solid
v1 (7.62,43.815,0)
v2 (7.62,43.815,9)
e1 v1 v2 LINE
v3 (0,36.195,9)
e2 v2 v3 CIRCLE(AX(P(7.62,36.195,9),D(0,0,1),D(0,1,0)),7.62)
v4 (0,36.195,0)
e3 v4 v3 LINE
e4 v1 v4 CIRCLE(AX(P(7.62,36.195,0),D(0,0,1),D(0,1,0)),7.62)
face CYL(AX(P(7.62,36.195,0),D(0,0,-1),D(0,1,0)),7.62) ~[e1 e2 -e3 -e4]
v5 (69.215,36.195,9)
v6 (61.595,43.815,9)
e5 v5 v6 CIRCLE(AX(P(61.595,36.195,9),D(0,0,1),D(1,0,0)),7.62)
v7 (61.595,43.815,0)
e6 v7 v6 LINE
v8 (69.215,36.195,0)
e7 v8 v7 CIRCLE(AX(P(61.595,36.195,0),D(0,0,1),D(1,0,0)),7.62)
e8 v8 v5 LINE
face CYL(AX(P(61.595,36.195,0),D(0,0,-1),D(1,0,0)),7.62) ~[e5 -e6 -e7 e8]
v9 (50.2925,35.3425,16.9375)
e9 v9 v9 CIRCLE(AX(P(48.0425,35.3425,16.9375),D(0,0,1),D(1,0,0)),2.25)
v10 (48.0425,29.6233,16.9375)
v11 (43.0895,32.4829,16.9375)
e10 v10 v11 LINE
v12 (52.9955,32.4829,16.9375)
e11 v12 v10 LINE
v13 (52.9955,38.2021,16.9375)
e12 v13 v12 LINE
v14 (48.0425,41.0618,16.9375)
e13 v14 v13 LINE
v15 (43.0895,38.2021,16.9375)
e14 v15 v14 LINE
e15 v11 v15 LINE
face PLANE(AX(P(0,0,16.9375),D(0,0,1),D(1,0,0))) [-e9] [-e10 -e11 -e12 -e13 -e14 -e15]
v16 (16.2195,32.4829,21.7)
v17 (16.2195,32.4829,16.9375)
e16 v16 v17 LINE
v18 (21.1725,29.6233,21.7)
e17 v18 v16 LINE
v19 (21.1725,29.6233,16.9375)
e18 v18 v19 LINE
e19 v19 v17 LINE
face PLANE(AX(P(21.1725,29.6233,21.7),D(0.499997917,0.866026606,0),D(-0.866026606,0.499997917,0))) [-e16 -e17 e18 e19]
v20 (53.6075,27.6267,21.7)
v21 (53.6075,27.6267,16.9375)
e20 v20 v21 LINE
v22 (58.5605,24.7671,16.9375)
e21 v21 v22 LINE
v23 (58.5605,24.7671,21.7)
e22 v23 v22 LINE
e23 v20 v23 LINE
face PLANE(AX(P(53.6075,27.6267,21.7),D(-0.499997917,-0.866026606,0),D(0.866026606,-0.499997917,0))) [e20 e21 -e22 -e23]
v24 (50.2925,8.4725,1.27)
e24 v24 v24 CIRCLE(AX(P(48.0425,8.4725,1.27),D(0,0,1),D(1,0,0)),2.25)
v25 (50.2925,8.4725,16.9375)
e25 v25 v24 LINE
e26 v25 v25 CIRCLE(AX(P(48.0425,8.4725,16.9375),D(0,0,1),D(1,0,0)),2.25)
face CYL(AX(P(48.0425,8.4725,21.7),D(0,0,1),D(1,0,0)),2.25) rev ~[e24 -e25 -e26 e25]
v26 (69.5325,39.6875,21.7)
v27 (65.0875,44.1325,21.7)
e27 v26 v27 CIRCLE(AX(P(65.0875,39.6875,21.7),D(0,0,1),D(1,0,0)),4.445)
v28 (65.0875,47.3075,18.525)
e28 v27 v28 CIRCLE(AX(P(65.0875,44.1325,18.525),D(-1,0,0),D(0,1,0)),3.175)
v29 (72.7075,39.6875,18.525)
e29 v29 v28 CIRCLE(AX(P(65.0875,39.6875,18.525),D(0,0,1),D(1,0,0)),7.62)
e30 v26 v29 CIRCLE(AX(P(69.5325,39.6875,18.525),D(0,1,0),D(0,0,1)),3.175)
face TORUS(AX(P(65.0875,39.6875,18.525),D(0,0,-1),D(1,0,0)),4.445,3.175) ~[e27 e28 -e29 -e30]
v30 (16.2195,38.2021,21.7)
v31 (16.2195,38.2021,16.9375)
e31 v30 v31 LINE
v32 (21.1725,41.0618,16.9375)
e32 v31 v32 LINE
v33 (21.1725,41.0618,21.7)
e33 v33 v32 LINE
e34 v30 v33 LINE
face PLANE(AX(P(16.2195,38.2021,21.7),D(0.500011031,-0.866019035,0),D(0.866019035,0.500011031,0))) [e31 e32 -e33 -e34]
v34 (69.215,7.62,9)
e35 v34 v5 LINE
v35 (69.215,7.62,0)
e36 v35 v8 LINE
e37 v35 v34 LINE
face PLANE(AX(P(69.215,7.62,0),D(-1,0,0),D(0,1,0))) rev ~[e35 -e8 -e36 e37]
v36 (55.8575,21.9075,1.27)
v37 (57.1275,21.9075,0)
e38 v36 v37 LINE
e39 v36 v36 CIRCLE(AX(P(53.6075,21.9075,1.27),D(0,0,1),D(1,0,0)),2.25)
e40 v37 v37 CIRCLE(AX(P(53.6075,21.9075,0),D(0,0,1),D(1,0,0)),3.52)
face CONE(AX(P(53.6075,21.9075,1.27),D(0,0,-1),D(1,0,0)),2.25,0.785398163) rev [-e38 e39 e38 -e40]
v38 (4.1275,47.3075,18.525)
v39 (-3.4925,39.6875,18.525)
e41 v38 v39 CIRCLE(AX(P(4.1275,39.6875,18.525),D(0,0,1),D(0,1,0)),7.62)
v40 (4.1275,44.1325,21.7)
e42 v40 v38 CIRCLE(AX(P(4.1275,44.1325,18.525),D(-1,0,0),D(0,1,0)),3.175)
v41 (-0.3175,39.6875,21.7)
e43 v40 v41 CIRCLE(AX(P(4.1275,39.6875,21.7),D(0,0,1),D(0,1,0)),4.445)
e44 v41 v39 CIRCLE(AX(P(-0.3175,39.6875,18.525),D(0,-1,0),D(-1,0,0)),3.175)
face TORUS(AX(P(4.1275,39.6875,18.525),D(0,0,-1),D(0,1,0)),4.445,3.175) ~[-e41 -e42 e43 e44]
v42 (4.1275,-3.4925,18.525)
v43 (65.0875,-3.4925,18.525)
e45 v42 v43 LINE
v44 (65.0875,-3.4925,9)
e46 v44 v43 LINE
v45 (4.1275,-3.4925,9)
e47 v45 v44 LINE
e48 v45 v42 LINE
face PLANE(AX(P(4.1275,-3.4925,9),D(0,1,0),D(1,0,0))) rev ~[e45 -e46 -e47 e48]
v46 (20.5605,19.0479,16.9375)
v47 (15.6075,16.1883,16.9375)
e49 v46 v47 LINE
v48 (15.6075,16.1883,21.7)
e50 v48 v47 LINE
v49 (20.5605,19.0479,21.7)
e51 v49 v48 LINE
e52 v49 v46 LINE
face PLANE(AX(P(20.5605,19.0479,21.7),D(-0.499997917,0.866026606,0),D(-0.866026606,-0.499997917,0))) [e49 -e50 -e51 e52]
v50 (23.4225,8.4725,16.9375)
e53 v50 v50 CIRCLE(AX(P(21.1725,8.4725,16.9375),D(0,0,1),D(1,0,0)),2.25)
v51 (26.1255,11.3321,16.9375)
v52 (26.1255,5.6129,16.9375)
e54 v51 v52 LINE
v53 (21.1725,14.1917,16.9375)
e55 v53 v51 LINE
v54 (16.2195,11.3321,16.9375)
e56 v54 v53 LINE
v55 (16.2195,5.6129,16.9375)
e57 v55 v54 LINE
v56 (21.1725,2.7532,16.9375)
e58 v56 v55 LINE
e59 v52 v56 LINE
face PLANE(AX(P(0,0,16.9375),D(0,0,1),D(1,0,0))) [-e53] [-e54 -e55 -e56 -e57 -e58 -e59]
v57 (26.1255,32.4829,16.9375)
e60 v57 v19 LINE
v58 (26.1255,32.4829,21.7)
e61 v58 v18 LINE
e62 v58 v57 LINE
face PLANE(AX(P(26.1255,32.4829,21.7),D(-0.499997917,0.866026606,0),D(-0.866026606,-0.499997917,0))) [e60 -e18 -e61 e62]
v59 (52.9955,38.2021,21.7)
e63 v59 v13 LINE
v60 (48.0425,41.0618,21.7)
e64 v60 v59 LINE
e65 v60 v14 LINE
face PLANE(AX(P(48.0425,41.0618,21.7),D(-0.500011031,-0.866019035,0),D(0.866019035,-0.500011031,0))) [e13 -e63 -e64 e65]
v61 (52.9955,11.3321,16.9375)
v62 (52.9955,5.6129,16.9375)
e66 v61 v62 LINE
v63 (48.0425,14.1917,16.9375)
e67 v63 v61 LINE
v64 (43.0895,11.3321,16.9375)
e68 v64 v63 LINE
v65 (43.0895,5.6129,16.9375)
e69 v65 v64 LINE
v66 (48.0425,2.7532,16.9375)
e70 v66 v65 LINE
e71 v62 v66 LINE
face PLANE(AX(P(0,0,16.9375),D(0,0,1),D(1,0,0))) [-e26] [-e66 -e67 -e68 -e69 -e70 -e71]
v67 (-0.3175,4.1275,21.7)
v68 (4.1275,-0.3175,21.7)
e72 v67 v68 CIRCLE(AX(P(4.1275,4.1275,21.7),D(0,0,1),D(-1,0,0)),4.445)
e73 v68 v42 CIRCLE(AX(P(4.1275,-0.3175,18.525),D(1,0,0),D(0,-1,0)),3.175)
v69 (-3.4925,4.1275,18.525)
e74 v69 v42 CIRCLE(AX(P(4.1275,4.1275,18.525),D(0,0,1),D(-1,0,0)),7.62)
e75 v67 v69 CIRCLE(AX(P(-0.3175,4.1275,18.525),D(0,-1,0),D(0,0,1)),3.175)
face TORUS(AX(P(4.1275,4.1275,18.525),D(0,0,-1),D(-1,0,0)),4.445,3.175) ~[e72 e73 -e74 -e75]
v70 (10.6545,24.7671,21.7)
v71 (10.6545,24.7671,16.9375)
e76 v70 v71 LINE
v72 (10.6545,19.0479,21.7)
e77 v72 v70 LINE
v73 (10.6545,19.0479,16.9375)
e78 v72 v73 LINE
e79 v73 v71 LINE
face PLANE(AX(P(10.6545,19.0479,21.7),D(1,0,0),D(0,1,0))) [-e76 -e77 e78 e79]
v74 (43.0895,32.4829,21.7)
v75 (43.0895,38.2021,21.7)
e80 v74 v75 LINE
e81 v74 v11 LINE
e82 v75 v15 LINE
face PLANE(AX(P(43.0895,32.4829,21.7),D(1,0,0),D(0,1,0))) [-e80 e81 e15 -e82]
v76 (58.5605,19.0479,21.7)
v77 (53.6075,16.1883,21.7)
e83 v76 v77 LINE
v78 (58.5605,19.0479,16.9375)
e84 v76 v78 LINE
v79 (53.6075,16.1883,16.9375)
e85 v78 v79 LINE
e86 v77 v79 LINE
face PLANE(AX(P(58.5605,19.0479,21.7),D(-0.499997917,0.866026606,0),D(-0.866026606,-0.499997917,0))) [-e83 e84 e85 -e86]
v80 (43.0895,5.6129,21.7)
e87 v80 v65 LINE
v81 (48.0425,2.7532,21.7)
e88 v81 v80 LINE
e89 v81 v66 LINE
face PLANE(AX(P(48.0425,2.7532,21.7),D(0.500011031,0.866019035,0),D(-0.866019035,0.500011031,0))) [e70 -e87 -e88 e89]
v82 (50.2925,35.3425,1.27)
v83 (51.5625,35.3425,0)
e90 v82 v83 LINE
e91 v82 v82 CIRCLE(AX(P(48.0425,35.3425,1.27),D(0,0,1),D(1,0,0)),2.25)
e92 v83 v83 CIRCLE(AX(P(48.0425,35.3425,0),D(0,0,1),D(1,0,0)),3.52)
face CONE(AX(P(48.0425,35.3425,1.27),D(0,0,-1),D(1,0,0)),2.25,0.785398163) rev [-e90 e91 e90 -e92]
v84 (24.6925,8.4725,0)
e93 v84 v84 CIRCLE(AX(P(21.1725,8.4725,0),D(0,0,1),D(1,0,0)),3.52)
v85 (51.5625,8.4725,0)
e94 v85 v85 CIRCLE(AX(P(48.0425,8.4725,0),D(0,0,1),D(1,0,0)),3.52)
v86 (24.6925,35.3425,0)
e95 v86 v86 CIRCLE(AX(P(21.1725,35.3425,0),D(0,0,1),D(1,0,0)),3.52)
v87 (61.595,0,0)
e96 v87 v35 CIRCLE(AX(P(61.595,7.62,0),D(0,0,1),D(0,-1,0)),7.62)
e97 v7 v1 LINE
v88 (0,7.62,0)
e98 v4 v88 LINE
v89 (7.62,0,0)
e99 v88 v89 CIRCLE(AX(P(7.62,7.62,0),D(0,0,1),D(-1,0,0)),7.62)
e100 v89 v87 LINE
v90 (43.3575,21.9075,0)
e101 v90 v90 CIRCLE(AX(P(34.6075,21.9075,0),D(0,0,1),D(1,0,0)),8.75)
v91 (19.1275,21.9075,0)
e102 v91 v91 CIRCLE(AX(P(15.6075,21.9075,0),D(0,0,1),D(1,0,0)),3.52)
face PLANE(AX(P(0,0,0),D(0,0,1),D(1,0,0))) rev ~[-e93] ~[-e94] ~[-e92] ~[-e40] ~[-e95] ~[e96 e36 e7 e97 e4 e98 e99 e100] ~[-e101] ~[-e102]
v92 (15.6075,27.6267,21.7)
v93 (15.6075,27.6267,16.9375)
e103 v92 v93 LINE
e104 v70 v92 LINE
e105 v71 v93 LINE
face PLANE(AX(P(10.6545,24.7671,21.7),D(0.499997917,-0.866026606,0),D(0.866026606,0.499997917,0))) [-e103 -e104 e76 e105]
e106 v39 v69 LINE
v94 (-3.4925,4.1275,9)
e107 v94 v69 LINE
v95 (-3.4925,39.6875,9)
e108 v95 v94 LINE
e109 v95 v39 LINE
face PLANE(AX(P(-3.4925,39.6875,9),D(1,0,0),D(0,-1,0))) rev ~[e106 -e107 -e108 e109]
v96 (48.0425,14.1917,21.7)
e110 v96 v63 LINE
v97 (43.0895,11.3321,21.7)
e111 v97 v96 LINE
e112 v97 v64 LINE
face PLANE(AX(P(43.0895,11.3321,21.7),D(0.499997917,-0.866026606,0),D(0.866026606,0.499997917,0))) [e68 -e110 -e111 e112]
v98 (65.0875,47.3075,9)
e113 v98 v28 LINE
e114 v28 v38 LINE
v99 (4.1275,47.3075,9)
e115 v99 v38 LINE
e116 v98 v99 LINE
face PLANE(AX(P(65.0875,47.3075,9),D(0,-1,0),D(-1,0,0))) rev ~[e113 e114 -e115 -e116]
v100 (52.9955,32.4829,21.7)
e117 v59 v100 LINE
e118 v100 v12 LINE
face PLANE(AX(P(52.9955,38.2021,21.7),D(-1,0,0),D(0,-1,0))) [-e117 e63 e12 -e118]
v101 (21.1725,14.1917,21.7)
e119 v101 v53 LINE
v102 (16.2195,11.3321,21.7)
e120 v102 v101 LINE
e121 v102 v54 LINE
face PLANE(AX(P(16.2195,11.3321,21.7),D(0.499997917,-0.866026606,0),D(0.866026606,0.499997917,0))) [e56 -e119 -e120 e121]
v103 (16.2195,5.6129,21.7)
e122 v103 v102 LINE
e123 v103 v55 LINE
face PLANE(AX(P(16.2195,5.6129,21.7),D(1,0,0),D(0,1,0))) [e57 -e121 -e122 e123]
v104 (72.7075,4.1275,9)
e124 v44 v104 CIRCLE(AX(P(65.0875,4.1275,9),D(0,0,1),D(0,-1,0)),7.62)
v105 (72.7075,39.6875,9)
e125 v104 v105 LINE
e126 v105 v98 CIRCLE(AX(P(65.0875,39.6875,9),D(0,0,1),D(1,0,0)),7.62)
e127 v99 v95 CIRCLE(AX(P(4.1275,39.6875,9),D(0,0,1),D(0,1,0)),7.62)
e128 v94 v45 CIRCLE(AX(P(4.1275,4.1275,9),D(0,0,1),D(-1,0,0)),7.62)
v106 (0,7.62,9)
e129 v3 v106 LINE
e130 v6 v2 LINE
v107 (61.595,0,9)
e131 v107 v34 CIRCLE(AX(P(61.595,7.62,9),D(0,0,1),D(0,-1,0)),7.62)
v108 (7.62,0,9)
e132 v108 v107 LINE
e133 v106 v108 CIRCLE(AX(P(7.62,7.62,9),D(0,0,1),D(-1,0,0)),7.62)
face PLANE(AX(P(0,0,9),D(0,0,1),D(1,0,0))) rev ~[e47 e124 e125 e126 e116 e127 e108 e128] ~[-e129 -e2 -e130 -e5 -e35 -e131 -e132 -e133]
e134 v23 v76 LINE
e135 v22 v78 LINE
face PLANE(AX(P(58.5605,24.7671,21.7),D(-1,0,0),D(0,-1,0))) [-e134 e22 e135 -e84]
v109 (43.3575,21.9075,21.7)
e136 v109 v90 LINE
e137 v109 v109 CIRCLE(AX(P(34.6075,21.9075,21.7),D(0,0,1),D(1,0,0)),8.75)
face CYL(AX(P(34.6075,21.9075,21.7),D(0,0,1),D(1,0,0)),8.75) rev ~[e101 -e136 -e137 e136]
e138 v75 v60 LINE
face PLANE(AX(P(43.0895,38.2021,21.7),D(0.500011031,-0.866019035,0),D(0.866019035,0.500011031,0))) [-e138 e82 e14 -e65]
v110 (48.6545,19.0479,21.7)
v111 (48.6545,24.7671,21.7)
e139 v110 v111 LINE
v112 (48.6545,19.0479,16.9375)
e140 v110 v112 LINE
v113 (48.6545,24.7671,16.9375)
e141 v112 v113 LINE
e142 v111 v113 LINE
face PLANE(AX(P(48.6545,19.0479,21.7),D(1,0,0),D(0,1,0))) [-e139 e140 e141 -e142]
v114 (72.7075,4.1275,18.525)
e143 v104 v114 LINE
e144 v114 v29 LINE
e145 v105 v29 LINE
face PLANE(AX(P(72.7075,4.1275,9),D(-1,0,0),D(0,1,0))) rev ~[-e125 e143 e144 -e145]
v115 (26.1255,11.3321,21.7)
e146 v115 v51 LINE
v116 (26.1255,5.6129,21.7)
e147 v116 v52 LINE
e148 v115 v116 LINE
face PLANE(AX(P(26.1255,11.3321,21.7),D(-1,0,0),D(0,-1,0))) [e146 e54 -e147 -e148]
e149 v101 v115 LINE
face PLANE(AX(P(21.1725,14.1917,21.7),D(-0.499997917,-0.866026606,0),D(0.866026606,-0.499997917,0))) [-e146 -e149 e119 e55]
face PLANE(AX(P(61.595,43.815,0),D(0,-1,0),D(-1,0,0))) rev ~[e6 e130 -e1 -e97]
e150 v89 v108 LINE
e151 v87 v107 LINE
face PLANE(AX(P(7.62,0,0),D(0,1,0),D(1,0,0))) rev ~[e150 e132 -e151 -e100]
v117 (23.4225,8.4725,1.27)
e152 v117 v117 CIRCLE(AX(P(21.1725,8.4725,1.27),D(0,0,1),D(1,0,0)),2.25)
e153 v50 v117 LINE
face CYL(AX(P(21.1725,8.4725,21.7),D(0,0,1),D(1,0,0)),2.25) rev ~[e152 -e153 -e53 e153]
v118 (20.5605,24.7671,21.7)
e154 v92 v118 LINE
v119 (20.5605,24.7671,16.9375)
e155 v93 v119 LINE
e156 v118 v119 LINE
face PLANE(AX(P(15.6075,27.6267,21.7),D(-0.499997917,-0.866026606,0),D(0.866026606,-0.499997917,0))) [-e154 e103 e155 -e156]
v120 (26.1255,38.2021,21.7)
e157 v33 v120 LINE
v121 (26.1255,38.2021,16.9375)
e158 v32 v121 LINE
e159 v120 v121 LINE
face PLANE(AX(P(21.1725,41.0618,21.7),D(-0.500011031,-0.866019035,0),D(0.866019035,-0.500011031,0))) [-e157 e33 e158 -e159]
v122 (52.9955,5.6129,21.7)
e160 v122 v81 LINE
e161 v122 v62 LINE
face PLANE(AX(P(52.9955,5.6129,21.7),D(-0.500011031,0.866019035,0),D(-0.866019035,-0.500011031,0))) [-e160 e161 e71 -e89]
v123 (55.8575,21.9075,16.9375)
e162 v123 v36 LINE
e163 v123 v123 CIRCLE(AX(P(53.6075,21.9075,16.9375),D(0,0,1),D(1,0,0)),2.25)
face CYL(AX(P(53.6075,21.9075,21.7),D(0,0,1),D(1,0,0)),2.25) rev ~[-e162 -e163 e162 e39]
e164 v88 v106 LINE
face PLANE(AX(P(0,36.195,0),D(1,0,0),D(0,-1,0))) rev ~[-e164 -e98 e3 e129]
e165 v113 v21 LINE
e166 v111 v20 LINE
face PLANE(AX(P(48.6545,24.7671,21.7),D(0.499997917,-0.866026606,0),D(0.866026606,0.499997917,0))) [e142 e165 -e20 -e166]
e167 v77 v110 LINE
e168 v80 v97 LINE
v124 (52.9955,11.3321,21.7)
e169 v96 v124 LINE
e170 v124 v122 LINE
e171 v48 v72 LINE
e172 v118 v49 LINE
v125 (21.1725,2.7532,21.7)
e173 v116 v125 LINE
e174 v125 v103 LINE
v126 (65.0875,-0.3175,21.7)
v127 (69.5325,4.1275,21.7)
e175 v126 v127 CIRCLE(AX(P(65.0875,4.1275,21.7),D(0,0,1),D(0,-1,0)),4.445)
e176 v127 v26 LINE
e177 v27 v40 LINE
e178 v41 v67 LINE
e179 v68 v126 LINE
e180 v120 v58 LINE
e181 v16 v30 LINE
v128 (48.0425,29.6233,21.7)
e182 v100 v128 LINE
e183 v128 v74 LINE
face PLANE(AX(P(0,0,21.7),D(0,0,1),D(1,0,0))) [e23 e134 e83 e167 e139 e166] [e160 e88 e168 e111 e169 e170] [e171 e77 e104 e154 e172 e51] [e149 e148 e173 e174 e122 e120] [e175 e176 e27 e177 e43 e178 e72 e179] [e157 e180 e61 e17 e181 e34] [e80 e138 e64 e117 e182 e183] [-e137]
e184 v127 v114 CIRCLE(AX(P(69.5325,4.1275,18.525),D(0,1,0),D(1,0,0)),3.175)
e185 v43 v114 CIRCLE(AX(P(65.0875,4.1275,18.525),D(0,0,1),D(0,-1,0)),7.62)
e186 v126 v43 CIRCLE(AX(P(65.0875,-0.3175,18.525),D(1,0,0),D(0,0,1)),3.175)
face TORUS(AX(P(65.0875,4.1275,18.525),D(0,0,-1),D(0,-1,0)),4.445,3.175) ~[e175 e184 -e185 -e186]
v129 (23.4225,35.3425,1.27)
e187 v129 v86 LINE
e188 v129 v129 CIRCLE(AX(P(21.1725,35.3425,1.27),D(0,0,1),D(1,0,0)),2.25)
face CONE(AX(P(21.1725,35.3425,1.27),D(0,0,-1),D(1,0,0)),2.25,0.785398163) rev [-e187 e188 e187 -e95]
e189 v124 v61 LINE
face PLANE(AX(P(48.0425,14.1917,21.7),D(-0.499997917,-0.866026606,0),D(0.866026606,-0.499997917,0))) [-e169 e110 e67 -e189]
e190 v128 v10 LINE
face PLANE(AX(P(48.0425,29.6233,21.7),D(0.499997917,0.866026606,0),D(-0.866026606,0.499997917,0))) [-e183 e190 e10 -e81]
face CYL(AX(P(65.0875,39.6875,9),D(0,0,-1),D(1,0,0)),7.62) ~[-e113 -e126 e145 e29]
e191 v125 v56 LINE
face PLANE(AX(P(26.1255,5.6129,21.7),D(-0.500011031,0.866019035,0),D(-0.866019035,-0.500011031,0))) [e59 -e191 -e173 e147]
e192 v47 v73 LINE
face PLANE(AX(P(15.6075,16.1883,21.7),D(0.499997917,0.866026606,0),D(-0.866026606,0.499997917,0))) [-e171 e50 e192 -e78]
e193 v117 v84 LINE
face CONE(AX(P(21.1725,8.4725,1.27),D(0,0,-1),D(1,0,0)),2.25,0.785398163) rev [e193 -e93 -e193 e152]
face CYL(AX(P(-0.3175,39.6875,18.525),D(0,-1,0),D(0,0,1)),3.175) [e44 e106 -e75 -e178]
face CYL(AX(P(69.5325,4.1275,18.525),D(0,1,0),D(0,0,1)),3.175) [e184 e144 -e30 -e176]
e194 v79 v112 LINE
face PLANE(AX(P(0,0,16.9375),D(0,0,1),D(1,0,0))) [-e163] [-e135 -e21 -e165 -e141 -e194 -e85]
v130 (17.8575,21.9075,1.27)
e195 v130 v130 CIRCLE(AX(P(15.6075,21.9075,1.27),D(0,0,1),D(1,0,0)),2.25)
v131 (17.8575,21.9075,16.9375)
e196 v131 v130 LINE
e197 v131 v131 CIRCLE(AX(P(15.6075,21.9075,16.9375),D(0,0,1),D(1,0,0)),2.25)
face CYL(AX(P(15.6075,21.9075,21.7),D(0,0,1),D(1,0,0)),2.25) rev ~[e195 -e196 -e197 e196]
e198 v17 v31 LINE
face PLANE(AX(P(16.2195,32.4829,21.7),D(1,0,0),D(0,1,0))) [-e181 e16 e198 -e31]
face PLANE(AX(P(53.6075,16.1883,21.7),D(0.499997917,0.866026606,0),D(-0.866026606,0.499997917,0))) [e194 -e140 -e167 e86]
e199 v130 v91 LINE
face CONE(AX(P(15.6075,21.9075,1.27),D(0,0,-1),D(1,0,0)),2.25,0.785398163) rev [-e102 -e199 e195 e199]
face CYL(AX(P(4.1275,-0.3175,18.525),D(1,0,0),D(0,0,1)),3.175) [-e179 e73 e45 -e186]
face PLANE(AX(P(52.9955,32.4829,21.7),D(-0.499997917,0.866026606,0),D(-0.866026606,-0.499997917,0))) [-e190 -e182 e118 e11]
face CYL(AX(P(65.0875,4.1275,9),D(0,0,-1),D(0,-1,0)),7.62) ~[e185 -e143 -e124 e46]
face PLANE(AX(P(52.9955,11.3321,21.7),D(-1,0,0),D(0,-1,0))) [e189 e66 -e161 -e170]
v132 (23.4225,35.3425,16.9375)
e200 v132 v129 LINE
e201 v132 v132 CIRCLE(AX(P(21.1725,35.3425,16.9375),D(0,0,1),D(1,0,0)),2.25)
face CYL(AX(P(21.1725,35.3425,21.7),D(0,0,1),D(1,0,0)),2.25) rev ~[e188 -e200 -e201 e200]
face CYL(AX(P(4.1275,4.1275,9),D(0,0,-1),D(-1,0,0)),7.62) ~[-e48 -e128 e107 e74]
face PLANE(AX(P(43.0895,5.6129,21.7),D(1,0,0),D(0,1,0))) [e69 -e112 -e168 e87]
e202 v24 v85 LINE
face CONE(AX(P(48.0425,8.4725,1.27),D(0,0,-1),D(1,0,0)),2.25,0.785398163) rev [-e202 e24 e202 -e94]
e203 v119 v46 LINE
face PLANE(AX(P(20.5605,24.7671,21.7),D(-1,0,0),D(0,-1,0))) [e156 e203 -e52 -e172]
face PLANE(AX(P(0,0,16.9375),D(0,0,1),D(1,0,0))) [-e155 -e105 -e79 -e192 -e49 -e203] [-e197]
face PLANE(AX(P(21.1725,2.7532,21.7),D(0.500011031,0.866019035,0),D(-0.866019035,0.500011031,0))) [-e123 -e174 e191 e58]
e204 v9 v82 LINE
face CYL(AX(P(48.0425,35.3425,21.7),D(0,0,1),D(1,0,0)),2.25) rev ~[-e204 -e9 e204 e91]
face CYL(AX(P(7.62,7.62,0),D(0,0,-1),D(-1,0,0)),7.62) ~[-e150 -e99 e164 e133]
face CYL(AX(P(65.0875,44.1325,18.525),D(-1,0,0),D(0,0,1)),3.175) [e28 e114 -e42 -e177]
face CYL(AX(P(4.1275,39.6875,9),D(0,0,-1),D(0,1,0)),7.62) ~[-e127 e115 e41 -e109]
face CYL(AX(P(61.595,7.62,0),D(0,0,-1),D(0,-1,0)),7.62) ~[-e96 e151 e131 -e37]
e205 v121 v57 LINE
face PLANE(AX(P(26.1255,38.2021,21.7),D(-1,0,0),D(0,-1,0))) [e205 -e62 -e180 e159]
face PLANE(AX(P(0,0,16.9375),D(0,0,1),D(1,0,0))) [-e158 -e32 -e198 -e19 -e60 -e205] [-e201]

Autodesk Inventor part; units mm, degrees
ref_plane "YZ Plane" through (0, 0, 0) normal (1, 0, 0) x (0, 1, 0)
ref_plane "XZ Plane" through (0, 0, 0) normal (0, 1, 0) x (-1, 0, 0)
sketch "Sketch1" plane through (0, 0, 0) normal (0, 0, 1) x (1, 0, 0)
  line L0 (7.62, 0) -> (61.595, 0)
  line L1 (69.215, 7.62) -> (69.215, 36.195)
  line L2 (61.595, 43.815) -> (7.62, 43.815)
  line L3 (0, 36.195) -> (0, 7.62)
  arc A0 (7.62, 43.815) -> (0, 36.195) centre (7.62, 36.195) ccw
  arc A1 (0, 7.62) -> (7.62, 0) centre (7.62, 7.62) ccw
  arc A2 (61.595, 0) -> (69.215, 7.62) centre (61.595, 7.62) ccw
  arc A3 (69.215, 36.195) -> (61.595, 43.815) centre (61.595, 36.195) ccw
  point P0 (0, 0)
  point P1 (69.215, 43.815)
  point P2 (69.215, 0)
  point P3 (0, 43.815)
  dimension "d0" = 69.215
  dimension "d1" = 43.815
  dimension "d2" = 7.62
extrude "Extrusion1" add sketch "Sketch1" along normal blind 9
sketch "Sketch2" plane through (0, 0, 9) normal (0, 0, 1) x (1, 0, 0)
  line L0 (4.1275, -3.4925) -> (65.0875, -3.4925)
  line L1 (72.7075, 4.1275) -> (72.7075, 39.6875)
  line L2 (65.0875, 47.3075) -> (4.1275, 47.3075)
  line L3 (-3.4925, 39.6875) -> (-3.4925, 4.1275)
  arc A0 (4.1275, 47.3075) -> (-3.4925, 39.6875) centre (4.1275, 39.6875) ccw
  arc A1 (-3.4925, 4.1275) -> (4.1275, -3.4925) centre (4.1275, 4.1275) ccw
  arc A2 (65.0875, -3.4925) -> (72.7075, 4.1275) centre (65.0875, 4.1275) ccw
  arc A3 (72.7075, 39.6875) -> (65.0875, 47.3075) centre (65.0875, 39.6875) ccw
  line L4 (61.595, 43.815) -> (7.62, 43.815) construction
  line L5 (0, 36.195) -> (0, 7.62) construction
  point P0 (0, 0)
  point P1 (72.7075, 47.3075)
  point P2 (72.7075, -3.4925)
  point P3 (-3.4925, 47.3075)
  point P4 (34.6075, 47.3075)
  point P5 (34.6075, 43.815)
  point P6 (-3.4925, 21.9075)
  point P7 (0, 21.9075)
  dimension "d5" = 76.2
  dimension "d6" = 50.8
  dimension "d7" = 7.62
extrude "Extrusion2" add sketch "Sketch2" along normal blind 12.7
fillet "Fillet1" radius 3.175 8 edges at (-1.2607, 45.0757, 21.7) (-3.4925, 21.9075, 21.7) (-1.2607, -1.2607, 21.7) (34.6075, -3.4925, 21.7) (70.4757, -1.2607, 21.7) (72.7075, 21.9075, 21.7) (70.4757, 45.0757, 21.7) (34.6075, 47.3075, 21.7)
sketch "Sketch3" plane through (0, 0, 21.7) normal (0, 0, 1) x (1, 0, 0)
  line L0 (65.0875, 47.3075) -> (4.1275, 47.3075) construction
  line L1 (65.0875, 47.3075) -> (4.1275, 47.3075) construction
  line L2 (-3.4925, 39.6875) -> (-3.4925, 4.1275) construction
  line L3 (-3.4925, 39.6875) -> (-3.4925, 4.1275) construction
  circle A0 centre (34.6075, 21.9075) radius 8.75
  circle A1 centre (34.6075, 21.9075) radius 19 construction
  circle A2 centre (21.1725, 35.3425) radius 2.25
  circle A3 centre (48.0425, 35.3425) radius 2.25
  circle A4 centre (15.6075, 21.9075) radius 2.25
  circle A5 centre (53.6075, 21.9075) radius 2.25
  circle A6 centre (21.1725, 8.4725) radius 2.25
  circle A7 centre (48.0425, 8.4725) radius 2.25
  line L4 (21.1725, 35.3425) -> (34.6075, 21.9075) construction
  line L5 (34.6075, 21.9075) -> (15.6075, 21.9075) construction
  point P0 (0, 0)
  point P1 (34.6075, 47.3075)
  point P2 (-3.4925, 21.9075)
  point P3 (-3.4925, 21.9075)
  dimension "d11" = 17.5
  dimension "d14" = 4.5
  dimension "d15" = 38
  dimension "d16" = 45
extrude "Extrusion3" cut sketch "Sketch3" against normal up to surface (21.7 mm away)
chamfer "Chamfer1" distance 1.27 angle 45 6 edges at (45.7925, 35.3425, 0) (18.9225, 35.3425, 0) (13.3575, 21.9075, 0) (51.3575, 21.9075, 0) (45.7925, 8.4725, 0) (18.9225, 8.4725, 0)
sketch "Sketch4" plane through (7.62, 0, 0) normal (0, -1, 0) x (1, 0, 0)
  point P0 (-7.62, 0)
ref_plane "Work Plane1" through (-0.635, 46.99, -50.8) normal (0, 1, 0) x (0, 0, 1)
sketch "Sketch7" plane through (0, 0, 21.7) normal (0, 0, 1) x (1, 0, 0)
  line L0 (21.1725, 2.7532) -> (16.2195, 5.6129)
  line L1 (16.2195, 5.6129) -> (16.2195, 11.3321)
  line L2 (16.2195, 11.3321) -> (21.1725, 14.1917)
  line L3 (21.1725, 14.1917) -> (26.1255, 11.3321)
  line L4 (26.1255, 11.3321) -> (26.1255, 5.6129)
  line L5 (26.1255, 5.6129) -> (21.1725, 2.7532)
  circle A0 centre (48.0425, 35.3425) radius 2.25 construction
  circle A1 centre (53.6075, 21.9075) radius 2.25 construction
  circle A2 centre (48.0425, 8.4725) radius 2.25 construction
  circle A3 centre (21.1725, 8.4725) radius 2.25 construction
  circle A4 centre (15.6075, 21.9075) radius 2.25 construction
  circle A5 centre (21.1725, 35.3425) radius 2.25 construction
  line L6 (53.6075, 16.1883) -> (48.6545, 19.0479)
  line L7 (48.6545, 19.0479) -> (48.6545, 24.7671)
  line L8 (48.6545, 24.7671) -> (53.6075, 27.6267)
  line L9 (53.6075, 27.6267) -> (58.5605, 24.7671)
  line L10 (58.5605, 24.7671) -> (58.5605, 19.0479)
  line L11 (58.5605, 19.0479) -> (53.6075, 16.1883)
  line L12 (48.0425, 29.6233) -> (43.0895, 32.4829)
  line L13 (43.0895, 32.4829) -> (43.0895, 38.2021)
  line L14 (43.0895, 38.2021) -> (48.0425, 41.0618)
  line L15 (48.0425, 41.0618) -> (52.9955, 38.2021)
  line L16 (52.9955, 38.2021) -> (52.9955, 32.4829)
  line L17 (52.9955, 32.4829) -> (48.0425, 29.6233)
  line L18 (15.6075, 16.1883) -> (10.6545, 19.0479)
  line L19 (10.6545, 19.0479) -> (10.6545, 24.7671)
  line L20 (10.6545, 24.7671) -> (15.6075, 27.6267)
  line L21 (15.6075, 27.6267) -> (20.5605, 24.7671)
  line L22 (20.5605, 24.7671) -> (20.5605, 19.0479)
  line L23 (20.5605, 19.0479) -> (15.6075, 16.1883)
  line L24 (21.1725, 29.6233) -> (16.2195, 32.4829)
  line L25 (16.2195, 32.4829) -> (16.2195, 38.2021)
  line L26 (16.2195, 38.2021) -> (21.1725, 41.0618)
  line L27 (21.1725, 41.0618) -> (26.1255, 38.2021)
  line L28 (26.1255, 38.2021) -> (26.1255, 32.4829)
  line L29 (26.1255, 32.4829) -> (21.1725, 29.6233)
  line L30 (48.0425, 2.7532) -> (43.0895, 5.6129)
  line L31 (43.0895, 5.6129) -> (43.0895, 11.3321)
  line L32 (43.0895, 11.3321) -> (48.0425, 14.1917)
  line L33 (48.0425, 14.1917) -> (52.9955, 11.3321)
  line L34 (52.9955, 11.3321) -> (52.9955, 5.6129)
  line L35 (52.9955, 5.6129) -> (48.0425, 2.7532)
  point P0 (0, 0)
  dimension "d26" = 9.906
extrude "Extrusion6" cut sketch "Sketch7" against normal blind 4.7625
properties part number "2x3_Spacer_Rear"
